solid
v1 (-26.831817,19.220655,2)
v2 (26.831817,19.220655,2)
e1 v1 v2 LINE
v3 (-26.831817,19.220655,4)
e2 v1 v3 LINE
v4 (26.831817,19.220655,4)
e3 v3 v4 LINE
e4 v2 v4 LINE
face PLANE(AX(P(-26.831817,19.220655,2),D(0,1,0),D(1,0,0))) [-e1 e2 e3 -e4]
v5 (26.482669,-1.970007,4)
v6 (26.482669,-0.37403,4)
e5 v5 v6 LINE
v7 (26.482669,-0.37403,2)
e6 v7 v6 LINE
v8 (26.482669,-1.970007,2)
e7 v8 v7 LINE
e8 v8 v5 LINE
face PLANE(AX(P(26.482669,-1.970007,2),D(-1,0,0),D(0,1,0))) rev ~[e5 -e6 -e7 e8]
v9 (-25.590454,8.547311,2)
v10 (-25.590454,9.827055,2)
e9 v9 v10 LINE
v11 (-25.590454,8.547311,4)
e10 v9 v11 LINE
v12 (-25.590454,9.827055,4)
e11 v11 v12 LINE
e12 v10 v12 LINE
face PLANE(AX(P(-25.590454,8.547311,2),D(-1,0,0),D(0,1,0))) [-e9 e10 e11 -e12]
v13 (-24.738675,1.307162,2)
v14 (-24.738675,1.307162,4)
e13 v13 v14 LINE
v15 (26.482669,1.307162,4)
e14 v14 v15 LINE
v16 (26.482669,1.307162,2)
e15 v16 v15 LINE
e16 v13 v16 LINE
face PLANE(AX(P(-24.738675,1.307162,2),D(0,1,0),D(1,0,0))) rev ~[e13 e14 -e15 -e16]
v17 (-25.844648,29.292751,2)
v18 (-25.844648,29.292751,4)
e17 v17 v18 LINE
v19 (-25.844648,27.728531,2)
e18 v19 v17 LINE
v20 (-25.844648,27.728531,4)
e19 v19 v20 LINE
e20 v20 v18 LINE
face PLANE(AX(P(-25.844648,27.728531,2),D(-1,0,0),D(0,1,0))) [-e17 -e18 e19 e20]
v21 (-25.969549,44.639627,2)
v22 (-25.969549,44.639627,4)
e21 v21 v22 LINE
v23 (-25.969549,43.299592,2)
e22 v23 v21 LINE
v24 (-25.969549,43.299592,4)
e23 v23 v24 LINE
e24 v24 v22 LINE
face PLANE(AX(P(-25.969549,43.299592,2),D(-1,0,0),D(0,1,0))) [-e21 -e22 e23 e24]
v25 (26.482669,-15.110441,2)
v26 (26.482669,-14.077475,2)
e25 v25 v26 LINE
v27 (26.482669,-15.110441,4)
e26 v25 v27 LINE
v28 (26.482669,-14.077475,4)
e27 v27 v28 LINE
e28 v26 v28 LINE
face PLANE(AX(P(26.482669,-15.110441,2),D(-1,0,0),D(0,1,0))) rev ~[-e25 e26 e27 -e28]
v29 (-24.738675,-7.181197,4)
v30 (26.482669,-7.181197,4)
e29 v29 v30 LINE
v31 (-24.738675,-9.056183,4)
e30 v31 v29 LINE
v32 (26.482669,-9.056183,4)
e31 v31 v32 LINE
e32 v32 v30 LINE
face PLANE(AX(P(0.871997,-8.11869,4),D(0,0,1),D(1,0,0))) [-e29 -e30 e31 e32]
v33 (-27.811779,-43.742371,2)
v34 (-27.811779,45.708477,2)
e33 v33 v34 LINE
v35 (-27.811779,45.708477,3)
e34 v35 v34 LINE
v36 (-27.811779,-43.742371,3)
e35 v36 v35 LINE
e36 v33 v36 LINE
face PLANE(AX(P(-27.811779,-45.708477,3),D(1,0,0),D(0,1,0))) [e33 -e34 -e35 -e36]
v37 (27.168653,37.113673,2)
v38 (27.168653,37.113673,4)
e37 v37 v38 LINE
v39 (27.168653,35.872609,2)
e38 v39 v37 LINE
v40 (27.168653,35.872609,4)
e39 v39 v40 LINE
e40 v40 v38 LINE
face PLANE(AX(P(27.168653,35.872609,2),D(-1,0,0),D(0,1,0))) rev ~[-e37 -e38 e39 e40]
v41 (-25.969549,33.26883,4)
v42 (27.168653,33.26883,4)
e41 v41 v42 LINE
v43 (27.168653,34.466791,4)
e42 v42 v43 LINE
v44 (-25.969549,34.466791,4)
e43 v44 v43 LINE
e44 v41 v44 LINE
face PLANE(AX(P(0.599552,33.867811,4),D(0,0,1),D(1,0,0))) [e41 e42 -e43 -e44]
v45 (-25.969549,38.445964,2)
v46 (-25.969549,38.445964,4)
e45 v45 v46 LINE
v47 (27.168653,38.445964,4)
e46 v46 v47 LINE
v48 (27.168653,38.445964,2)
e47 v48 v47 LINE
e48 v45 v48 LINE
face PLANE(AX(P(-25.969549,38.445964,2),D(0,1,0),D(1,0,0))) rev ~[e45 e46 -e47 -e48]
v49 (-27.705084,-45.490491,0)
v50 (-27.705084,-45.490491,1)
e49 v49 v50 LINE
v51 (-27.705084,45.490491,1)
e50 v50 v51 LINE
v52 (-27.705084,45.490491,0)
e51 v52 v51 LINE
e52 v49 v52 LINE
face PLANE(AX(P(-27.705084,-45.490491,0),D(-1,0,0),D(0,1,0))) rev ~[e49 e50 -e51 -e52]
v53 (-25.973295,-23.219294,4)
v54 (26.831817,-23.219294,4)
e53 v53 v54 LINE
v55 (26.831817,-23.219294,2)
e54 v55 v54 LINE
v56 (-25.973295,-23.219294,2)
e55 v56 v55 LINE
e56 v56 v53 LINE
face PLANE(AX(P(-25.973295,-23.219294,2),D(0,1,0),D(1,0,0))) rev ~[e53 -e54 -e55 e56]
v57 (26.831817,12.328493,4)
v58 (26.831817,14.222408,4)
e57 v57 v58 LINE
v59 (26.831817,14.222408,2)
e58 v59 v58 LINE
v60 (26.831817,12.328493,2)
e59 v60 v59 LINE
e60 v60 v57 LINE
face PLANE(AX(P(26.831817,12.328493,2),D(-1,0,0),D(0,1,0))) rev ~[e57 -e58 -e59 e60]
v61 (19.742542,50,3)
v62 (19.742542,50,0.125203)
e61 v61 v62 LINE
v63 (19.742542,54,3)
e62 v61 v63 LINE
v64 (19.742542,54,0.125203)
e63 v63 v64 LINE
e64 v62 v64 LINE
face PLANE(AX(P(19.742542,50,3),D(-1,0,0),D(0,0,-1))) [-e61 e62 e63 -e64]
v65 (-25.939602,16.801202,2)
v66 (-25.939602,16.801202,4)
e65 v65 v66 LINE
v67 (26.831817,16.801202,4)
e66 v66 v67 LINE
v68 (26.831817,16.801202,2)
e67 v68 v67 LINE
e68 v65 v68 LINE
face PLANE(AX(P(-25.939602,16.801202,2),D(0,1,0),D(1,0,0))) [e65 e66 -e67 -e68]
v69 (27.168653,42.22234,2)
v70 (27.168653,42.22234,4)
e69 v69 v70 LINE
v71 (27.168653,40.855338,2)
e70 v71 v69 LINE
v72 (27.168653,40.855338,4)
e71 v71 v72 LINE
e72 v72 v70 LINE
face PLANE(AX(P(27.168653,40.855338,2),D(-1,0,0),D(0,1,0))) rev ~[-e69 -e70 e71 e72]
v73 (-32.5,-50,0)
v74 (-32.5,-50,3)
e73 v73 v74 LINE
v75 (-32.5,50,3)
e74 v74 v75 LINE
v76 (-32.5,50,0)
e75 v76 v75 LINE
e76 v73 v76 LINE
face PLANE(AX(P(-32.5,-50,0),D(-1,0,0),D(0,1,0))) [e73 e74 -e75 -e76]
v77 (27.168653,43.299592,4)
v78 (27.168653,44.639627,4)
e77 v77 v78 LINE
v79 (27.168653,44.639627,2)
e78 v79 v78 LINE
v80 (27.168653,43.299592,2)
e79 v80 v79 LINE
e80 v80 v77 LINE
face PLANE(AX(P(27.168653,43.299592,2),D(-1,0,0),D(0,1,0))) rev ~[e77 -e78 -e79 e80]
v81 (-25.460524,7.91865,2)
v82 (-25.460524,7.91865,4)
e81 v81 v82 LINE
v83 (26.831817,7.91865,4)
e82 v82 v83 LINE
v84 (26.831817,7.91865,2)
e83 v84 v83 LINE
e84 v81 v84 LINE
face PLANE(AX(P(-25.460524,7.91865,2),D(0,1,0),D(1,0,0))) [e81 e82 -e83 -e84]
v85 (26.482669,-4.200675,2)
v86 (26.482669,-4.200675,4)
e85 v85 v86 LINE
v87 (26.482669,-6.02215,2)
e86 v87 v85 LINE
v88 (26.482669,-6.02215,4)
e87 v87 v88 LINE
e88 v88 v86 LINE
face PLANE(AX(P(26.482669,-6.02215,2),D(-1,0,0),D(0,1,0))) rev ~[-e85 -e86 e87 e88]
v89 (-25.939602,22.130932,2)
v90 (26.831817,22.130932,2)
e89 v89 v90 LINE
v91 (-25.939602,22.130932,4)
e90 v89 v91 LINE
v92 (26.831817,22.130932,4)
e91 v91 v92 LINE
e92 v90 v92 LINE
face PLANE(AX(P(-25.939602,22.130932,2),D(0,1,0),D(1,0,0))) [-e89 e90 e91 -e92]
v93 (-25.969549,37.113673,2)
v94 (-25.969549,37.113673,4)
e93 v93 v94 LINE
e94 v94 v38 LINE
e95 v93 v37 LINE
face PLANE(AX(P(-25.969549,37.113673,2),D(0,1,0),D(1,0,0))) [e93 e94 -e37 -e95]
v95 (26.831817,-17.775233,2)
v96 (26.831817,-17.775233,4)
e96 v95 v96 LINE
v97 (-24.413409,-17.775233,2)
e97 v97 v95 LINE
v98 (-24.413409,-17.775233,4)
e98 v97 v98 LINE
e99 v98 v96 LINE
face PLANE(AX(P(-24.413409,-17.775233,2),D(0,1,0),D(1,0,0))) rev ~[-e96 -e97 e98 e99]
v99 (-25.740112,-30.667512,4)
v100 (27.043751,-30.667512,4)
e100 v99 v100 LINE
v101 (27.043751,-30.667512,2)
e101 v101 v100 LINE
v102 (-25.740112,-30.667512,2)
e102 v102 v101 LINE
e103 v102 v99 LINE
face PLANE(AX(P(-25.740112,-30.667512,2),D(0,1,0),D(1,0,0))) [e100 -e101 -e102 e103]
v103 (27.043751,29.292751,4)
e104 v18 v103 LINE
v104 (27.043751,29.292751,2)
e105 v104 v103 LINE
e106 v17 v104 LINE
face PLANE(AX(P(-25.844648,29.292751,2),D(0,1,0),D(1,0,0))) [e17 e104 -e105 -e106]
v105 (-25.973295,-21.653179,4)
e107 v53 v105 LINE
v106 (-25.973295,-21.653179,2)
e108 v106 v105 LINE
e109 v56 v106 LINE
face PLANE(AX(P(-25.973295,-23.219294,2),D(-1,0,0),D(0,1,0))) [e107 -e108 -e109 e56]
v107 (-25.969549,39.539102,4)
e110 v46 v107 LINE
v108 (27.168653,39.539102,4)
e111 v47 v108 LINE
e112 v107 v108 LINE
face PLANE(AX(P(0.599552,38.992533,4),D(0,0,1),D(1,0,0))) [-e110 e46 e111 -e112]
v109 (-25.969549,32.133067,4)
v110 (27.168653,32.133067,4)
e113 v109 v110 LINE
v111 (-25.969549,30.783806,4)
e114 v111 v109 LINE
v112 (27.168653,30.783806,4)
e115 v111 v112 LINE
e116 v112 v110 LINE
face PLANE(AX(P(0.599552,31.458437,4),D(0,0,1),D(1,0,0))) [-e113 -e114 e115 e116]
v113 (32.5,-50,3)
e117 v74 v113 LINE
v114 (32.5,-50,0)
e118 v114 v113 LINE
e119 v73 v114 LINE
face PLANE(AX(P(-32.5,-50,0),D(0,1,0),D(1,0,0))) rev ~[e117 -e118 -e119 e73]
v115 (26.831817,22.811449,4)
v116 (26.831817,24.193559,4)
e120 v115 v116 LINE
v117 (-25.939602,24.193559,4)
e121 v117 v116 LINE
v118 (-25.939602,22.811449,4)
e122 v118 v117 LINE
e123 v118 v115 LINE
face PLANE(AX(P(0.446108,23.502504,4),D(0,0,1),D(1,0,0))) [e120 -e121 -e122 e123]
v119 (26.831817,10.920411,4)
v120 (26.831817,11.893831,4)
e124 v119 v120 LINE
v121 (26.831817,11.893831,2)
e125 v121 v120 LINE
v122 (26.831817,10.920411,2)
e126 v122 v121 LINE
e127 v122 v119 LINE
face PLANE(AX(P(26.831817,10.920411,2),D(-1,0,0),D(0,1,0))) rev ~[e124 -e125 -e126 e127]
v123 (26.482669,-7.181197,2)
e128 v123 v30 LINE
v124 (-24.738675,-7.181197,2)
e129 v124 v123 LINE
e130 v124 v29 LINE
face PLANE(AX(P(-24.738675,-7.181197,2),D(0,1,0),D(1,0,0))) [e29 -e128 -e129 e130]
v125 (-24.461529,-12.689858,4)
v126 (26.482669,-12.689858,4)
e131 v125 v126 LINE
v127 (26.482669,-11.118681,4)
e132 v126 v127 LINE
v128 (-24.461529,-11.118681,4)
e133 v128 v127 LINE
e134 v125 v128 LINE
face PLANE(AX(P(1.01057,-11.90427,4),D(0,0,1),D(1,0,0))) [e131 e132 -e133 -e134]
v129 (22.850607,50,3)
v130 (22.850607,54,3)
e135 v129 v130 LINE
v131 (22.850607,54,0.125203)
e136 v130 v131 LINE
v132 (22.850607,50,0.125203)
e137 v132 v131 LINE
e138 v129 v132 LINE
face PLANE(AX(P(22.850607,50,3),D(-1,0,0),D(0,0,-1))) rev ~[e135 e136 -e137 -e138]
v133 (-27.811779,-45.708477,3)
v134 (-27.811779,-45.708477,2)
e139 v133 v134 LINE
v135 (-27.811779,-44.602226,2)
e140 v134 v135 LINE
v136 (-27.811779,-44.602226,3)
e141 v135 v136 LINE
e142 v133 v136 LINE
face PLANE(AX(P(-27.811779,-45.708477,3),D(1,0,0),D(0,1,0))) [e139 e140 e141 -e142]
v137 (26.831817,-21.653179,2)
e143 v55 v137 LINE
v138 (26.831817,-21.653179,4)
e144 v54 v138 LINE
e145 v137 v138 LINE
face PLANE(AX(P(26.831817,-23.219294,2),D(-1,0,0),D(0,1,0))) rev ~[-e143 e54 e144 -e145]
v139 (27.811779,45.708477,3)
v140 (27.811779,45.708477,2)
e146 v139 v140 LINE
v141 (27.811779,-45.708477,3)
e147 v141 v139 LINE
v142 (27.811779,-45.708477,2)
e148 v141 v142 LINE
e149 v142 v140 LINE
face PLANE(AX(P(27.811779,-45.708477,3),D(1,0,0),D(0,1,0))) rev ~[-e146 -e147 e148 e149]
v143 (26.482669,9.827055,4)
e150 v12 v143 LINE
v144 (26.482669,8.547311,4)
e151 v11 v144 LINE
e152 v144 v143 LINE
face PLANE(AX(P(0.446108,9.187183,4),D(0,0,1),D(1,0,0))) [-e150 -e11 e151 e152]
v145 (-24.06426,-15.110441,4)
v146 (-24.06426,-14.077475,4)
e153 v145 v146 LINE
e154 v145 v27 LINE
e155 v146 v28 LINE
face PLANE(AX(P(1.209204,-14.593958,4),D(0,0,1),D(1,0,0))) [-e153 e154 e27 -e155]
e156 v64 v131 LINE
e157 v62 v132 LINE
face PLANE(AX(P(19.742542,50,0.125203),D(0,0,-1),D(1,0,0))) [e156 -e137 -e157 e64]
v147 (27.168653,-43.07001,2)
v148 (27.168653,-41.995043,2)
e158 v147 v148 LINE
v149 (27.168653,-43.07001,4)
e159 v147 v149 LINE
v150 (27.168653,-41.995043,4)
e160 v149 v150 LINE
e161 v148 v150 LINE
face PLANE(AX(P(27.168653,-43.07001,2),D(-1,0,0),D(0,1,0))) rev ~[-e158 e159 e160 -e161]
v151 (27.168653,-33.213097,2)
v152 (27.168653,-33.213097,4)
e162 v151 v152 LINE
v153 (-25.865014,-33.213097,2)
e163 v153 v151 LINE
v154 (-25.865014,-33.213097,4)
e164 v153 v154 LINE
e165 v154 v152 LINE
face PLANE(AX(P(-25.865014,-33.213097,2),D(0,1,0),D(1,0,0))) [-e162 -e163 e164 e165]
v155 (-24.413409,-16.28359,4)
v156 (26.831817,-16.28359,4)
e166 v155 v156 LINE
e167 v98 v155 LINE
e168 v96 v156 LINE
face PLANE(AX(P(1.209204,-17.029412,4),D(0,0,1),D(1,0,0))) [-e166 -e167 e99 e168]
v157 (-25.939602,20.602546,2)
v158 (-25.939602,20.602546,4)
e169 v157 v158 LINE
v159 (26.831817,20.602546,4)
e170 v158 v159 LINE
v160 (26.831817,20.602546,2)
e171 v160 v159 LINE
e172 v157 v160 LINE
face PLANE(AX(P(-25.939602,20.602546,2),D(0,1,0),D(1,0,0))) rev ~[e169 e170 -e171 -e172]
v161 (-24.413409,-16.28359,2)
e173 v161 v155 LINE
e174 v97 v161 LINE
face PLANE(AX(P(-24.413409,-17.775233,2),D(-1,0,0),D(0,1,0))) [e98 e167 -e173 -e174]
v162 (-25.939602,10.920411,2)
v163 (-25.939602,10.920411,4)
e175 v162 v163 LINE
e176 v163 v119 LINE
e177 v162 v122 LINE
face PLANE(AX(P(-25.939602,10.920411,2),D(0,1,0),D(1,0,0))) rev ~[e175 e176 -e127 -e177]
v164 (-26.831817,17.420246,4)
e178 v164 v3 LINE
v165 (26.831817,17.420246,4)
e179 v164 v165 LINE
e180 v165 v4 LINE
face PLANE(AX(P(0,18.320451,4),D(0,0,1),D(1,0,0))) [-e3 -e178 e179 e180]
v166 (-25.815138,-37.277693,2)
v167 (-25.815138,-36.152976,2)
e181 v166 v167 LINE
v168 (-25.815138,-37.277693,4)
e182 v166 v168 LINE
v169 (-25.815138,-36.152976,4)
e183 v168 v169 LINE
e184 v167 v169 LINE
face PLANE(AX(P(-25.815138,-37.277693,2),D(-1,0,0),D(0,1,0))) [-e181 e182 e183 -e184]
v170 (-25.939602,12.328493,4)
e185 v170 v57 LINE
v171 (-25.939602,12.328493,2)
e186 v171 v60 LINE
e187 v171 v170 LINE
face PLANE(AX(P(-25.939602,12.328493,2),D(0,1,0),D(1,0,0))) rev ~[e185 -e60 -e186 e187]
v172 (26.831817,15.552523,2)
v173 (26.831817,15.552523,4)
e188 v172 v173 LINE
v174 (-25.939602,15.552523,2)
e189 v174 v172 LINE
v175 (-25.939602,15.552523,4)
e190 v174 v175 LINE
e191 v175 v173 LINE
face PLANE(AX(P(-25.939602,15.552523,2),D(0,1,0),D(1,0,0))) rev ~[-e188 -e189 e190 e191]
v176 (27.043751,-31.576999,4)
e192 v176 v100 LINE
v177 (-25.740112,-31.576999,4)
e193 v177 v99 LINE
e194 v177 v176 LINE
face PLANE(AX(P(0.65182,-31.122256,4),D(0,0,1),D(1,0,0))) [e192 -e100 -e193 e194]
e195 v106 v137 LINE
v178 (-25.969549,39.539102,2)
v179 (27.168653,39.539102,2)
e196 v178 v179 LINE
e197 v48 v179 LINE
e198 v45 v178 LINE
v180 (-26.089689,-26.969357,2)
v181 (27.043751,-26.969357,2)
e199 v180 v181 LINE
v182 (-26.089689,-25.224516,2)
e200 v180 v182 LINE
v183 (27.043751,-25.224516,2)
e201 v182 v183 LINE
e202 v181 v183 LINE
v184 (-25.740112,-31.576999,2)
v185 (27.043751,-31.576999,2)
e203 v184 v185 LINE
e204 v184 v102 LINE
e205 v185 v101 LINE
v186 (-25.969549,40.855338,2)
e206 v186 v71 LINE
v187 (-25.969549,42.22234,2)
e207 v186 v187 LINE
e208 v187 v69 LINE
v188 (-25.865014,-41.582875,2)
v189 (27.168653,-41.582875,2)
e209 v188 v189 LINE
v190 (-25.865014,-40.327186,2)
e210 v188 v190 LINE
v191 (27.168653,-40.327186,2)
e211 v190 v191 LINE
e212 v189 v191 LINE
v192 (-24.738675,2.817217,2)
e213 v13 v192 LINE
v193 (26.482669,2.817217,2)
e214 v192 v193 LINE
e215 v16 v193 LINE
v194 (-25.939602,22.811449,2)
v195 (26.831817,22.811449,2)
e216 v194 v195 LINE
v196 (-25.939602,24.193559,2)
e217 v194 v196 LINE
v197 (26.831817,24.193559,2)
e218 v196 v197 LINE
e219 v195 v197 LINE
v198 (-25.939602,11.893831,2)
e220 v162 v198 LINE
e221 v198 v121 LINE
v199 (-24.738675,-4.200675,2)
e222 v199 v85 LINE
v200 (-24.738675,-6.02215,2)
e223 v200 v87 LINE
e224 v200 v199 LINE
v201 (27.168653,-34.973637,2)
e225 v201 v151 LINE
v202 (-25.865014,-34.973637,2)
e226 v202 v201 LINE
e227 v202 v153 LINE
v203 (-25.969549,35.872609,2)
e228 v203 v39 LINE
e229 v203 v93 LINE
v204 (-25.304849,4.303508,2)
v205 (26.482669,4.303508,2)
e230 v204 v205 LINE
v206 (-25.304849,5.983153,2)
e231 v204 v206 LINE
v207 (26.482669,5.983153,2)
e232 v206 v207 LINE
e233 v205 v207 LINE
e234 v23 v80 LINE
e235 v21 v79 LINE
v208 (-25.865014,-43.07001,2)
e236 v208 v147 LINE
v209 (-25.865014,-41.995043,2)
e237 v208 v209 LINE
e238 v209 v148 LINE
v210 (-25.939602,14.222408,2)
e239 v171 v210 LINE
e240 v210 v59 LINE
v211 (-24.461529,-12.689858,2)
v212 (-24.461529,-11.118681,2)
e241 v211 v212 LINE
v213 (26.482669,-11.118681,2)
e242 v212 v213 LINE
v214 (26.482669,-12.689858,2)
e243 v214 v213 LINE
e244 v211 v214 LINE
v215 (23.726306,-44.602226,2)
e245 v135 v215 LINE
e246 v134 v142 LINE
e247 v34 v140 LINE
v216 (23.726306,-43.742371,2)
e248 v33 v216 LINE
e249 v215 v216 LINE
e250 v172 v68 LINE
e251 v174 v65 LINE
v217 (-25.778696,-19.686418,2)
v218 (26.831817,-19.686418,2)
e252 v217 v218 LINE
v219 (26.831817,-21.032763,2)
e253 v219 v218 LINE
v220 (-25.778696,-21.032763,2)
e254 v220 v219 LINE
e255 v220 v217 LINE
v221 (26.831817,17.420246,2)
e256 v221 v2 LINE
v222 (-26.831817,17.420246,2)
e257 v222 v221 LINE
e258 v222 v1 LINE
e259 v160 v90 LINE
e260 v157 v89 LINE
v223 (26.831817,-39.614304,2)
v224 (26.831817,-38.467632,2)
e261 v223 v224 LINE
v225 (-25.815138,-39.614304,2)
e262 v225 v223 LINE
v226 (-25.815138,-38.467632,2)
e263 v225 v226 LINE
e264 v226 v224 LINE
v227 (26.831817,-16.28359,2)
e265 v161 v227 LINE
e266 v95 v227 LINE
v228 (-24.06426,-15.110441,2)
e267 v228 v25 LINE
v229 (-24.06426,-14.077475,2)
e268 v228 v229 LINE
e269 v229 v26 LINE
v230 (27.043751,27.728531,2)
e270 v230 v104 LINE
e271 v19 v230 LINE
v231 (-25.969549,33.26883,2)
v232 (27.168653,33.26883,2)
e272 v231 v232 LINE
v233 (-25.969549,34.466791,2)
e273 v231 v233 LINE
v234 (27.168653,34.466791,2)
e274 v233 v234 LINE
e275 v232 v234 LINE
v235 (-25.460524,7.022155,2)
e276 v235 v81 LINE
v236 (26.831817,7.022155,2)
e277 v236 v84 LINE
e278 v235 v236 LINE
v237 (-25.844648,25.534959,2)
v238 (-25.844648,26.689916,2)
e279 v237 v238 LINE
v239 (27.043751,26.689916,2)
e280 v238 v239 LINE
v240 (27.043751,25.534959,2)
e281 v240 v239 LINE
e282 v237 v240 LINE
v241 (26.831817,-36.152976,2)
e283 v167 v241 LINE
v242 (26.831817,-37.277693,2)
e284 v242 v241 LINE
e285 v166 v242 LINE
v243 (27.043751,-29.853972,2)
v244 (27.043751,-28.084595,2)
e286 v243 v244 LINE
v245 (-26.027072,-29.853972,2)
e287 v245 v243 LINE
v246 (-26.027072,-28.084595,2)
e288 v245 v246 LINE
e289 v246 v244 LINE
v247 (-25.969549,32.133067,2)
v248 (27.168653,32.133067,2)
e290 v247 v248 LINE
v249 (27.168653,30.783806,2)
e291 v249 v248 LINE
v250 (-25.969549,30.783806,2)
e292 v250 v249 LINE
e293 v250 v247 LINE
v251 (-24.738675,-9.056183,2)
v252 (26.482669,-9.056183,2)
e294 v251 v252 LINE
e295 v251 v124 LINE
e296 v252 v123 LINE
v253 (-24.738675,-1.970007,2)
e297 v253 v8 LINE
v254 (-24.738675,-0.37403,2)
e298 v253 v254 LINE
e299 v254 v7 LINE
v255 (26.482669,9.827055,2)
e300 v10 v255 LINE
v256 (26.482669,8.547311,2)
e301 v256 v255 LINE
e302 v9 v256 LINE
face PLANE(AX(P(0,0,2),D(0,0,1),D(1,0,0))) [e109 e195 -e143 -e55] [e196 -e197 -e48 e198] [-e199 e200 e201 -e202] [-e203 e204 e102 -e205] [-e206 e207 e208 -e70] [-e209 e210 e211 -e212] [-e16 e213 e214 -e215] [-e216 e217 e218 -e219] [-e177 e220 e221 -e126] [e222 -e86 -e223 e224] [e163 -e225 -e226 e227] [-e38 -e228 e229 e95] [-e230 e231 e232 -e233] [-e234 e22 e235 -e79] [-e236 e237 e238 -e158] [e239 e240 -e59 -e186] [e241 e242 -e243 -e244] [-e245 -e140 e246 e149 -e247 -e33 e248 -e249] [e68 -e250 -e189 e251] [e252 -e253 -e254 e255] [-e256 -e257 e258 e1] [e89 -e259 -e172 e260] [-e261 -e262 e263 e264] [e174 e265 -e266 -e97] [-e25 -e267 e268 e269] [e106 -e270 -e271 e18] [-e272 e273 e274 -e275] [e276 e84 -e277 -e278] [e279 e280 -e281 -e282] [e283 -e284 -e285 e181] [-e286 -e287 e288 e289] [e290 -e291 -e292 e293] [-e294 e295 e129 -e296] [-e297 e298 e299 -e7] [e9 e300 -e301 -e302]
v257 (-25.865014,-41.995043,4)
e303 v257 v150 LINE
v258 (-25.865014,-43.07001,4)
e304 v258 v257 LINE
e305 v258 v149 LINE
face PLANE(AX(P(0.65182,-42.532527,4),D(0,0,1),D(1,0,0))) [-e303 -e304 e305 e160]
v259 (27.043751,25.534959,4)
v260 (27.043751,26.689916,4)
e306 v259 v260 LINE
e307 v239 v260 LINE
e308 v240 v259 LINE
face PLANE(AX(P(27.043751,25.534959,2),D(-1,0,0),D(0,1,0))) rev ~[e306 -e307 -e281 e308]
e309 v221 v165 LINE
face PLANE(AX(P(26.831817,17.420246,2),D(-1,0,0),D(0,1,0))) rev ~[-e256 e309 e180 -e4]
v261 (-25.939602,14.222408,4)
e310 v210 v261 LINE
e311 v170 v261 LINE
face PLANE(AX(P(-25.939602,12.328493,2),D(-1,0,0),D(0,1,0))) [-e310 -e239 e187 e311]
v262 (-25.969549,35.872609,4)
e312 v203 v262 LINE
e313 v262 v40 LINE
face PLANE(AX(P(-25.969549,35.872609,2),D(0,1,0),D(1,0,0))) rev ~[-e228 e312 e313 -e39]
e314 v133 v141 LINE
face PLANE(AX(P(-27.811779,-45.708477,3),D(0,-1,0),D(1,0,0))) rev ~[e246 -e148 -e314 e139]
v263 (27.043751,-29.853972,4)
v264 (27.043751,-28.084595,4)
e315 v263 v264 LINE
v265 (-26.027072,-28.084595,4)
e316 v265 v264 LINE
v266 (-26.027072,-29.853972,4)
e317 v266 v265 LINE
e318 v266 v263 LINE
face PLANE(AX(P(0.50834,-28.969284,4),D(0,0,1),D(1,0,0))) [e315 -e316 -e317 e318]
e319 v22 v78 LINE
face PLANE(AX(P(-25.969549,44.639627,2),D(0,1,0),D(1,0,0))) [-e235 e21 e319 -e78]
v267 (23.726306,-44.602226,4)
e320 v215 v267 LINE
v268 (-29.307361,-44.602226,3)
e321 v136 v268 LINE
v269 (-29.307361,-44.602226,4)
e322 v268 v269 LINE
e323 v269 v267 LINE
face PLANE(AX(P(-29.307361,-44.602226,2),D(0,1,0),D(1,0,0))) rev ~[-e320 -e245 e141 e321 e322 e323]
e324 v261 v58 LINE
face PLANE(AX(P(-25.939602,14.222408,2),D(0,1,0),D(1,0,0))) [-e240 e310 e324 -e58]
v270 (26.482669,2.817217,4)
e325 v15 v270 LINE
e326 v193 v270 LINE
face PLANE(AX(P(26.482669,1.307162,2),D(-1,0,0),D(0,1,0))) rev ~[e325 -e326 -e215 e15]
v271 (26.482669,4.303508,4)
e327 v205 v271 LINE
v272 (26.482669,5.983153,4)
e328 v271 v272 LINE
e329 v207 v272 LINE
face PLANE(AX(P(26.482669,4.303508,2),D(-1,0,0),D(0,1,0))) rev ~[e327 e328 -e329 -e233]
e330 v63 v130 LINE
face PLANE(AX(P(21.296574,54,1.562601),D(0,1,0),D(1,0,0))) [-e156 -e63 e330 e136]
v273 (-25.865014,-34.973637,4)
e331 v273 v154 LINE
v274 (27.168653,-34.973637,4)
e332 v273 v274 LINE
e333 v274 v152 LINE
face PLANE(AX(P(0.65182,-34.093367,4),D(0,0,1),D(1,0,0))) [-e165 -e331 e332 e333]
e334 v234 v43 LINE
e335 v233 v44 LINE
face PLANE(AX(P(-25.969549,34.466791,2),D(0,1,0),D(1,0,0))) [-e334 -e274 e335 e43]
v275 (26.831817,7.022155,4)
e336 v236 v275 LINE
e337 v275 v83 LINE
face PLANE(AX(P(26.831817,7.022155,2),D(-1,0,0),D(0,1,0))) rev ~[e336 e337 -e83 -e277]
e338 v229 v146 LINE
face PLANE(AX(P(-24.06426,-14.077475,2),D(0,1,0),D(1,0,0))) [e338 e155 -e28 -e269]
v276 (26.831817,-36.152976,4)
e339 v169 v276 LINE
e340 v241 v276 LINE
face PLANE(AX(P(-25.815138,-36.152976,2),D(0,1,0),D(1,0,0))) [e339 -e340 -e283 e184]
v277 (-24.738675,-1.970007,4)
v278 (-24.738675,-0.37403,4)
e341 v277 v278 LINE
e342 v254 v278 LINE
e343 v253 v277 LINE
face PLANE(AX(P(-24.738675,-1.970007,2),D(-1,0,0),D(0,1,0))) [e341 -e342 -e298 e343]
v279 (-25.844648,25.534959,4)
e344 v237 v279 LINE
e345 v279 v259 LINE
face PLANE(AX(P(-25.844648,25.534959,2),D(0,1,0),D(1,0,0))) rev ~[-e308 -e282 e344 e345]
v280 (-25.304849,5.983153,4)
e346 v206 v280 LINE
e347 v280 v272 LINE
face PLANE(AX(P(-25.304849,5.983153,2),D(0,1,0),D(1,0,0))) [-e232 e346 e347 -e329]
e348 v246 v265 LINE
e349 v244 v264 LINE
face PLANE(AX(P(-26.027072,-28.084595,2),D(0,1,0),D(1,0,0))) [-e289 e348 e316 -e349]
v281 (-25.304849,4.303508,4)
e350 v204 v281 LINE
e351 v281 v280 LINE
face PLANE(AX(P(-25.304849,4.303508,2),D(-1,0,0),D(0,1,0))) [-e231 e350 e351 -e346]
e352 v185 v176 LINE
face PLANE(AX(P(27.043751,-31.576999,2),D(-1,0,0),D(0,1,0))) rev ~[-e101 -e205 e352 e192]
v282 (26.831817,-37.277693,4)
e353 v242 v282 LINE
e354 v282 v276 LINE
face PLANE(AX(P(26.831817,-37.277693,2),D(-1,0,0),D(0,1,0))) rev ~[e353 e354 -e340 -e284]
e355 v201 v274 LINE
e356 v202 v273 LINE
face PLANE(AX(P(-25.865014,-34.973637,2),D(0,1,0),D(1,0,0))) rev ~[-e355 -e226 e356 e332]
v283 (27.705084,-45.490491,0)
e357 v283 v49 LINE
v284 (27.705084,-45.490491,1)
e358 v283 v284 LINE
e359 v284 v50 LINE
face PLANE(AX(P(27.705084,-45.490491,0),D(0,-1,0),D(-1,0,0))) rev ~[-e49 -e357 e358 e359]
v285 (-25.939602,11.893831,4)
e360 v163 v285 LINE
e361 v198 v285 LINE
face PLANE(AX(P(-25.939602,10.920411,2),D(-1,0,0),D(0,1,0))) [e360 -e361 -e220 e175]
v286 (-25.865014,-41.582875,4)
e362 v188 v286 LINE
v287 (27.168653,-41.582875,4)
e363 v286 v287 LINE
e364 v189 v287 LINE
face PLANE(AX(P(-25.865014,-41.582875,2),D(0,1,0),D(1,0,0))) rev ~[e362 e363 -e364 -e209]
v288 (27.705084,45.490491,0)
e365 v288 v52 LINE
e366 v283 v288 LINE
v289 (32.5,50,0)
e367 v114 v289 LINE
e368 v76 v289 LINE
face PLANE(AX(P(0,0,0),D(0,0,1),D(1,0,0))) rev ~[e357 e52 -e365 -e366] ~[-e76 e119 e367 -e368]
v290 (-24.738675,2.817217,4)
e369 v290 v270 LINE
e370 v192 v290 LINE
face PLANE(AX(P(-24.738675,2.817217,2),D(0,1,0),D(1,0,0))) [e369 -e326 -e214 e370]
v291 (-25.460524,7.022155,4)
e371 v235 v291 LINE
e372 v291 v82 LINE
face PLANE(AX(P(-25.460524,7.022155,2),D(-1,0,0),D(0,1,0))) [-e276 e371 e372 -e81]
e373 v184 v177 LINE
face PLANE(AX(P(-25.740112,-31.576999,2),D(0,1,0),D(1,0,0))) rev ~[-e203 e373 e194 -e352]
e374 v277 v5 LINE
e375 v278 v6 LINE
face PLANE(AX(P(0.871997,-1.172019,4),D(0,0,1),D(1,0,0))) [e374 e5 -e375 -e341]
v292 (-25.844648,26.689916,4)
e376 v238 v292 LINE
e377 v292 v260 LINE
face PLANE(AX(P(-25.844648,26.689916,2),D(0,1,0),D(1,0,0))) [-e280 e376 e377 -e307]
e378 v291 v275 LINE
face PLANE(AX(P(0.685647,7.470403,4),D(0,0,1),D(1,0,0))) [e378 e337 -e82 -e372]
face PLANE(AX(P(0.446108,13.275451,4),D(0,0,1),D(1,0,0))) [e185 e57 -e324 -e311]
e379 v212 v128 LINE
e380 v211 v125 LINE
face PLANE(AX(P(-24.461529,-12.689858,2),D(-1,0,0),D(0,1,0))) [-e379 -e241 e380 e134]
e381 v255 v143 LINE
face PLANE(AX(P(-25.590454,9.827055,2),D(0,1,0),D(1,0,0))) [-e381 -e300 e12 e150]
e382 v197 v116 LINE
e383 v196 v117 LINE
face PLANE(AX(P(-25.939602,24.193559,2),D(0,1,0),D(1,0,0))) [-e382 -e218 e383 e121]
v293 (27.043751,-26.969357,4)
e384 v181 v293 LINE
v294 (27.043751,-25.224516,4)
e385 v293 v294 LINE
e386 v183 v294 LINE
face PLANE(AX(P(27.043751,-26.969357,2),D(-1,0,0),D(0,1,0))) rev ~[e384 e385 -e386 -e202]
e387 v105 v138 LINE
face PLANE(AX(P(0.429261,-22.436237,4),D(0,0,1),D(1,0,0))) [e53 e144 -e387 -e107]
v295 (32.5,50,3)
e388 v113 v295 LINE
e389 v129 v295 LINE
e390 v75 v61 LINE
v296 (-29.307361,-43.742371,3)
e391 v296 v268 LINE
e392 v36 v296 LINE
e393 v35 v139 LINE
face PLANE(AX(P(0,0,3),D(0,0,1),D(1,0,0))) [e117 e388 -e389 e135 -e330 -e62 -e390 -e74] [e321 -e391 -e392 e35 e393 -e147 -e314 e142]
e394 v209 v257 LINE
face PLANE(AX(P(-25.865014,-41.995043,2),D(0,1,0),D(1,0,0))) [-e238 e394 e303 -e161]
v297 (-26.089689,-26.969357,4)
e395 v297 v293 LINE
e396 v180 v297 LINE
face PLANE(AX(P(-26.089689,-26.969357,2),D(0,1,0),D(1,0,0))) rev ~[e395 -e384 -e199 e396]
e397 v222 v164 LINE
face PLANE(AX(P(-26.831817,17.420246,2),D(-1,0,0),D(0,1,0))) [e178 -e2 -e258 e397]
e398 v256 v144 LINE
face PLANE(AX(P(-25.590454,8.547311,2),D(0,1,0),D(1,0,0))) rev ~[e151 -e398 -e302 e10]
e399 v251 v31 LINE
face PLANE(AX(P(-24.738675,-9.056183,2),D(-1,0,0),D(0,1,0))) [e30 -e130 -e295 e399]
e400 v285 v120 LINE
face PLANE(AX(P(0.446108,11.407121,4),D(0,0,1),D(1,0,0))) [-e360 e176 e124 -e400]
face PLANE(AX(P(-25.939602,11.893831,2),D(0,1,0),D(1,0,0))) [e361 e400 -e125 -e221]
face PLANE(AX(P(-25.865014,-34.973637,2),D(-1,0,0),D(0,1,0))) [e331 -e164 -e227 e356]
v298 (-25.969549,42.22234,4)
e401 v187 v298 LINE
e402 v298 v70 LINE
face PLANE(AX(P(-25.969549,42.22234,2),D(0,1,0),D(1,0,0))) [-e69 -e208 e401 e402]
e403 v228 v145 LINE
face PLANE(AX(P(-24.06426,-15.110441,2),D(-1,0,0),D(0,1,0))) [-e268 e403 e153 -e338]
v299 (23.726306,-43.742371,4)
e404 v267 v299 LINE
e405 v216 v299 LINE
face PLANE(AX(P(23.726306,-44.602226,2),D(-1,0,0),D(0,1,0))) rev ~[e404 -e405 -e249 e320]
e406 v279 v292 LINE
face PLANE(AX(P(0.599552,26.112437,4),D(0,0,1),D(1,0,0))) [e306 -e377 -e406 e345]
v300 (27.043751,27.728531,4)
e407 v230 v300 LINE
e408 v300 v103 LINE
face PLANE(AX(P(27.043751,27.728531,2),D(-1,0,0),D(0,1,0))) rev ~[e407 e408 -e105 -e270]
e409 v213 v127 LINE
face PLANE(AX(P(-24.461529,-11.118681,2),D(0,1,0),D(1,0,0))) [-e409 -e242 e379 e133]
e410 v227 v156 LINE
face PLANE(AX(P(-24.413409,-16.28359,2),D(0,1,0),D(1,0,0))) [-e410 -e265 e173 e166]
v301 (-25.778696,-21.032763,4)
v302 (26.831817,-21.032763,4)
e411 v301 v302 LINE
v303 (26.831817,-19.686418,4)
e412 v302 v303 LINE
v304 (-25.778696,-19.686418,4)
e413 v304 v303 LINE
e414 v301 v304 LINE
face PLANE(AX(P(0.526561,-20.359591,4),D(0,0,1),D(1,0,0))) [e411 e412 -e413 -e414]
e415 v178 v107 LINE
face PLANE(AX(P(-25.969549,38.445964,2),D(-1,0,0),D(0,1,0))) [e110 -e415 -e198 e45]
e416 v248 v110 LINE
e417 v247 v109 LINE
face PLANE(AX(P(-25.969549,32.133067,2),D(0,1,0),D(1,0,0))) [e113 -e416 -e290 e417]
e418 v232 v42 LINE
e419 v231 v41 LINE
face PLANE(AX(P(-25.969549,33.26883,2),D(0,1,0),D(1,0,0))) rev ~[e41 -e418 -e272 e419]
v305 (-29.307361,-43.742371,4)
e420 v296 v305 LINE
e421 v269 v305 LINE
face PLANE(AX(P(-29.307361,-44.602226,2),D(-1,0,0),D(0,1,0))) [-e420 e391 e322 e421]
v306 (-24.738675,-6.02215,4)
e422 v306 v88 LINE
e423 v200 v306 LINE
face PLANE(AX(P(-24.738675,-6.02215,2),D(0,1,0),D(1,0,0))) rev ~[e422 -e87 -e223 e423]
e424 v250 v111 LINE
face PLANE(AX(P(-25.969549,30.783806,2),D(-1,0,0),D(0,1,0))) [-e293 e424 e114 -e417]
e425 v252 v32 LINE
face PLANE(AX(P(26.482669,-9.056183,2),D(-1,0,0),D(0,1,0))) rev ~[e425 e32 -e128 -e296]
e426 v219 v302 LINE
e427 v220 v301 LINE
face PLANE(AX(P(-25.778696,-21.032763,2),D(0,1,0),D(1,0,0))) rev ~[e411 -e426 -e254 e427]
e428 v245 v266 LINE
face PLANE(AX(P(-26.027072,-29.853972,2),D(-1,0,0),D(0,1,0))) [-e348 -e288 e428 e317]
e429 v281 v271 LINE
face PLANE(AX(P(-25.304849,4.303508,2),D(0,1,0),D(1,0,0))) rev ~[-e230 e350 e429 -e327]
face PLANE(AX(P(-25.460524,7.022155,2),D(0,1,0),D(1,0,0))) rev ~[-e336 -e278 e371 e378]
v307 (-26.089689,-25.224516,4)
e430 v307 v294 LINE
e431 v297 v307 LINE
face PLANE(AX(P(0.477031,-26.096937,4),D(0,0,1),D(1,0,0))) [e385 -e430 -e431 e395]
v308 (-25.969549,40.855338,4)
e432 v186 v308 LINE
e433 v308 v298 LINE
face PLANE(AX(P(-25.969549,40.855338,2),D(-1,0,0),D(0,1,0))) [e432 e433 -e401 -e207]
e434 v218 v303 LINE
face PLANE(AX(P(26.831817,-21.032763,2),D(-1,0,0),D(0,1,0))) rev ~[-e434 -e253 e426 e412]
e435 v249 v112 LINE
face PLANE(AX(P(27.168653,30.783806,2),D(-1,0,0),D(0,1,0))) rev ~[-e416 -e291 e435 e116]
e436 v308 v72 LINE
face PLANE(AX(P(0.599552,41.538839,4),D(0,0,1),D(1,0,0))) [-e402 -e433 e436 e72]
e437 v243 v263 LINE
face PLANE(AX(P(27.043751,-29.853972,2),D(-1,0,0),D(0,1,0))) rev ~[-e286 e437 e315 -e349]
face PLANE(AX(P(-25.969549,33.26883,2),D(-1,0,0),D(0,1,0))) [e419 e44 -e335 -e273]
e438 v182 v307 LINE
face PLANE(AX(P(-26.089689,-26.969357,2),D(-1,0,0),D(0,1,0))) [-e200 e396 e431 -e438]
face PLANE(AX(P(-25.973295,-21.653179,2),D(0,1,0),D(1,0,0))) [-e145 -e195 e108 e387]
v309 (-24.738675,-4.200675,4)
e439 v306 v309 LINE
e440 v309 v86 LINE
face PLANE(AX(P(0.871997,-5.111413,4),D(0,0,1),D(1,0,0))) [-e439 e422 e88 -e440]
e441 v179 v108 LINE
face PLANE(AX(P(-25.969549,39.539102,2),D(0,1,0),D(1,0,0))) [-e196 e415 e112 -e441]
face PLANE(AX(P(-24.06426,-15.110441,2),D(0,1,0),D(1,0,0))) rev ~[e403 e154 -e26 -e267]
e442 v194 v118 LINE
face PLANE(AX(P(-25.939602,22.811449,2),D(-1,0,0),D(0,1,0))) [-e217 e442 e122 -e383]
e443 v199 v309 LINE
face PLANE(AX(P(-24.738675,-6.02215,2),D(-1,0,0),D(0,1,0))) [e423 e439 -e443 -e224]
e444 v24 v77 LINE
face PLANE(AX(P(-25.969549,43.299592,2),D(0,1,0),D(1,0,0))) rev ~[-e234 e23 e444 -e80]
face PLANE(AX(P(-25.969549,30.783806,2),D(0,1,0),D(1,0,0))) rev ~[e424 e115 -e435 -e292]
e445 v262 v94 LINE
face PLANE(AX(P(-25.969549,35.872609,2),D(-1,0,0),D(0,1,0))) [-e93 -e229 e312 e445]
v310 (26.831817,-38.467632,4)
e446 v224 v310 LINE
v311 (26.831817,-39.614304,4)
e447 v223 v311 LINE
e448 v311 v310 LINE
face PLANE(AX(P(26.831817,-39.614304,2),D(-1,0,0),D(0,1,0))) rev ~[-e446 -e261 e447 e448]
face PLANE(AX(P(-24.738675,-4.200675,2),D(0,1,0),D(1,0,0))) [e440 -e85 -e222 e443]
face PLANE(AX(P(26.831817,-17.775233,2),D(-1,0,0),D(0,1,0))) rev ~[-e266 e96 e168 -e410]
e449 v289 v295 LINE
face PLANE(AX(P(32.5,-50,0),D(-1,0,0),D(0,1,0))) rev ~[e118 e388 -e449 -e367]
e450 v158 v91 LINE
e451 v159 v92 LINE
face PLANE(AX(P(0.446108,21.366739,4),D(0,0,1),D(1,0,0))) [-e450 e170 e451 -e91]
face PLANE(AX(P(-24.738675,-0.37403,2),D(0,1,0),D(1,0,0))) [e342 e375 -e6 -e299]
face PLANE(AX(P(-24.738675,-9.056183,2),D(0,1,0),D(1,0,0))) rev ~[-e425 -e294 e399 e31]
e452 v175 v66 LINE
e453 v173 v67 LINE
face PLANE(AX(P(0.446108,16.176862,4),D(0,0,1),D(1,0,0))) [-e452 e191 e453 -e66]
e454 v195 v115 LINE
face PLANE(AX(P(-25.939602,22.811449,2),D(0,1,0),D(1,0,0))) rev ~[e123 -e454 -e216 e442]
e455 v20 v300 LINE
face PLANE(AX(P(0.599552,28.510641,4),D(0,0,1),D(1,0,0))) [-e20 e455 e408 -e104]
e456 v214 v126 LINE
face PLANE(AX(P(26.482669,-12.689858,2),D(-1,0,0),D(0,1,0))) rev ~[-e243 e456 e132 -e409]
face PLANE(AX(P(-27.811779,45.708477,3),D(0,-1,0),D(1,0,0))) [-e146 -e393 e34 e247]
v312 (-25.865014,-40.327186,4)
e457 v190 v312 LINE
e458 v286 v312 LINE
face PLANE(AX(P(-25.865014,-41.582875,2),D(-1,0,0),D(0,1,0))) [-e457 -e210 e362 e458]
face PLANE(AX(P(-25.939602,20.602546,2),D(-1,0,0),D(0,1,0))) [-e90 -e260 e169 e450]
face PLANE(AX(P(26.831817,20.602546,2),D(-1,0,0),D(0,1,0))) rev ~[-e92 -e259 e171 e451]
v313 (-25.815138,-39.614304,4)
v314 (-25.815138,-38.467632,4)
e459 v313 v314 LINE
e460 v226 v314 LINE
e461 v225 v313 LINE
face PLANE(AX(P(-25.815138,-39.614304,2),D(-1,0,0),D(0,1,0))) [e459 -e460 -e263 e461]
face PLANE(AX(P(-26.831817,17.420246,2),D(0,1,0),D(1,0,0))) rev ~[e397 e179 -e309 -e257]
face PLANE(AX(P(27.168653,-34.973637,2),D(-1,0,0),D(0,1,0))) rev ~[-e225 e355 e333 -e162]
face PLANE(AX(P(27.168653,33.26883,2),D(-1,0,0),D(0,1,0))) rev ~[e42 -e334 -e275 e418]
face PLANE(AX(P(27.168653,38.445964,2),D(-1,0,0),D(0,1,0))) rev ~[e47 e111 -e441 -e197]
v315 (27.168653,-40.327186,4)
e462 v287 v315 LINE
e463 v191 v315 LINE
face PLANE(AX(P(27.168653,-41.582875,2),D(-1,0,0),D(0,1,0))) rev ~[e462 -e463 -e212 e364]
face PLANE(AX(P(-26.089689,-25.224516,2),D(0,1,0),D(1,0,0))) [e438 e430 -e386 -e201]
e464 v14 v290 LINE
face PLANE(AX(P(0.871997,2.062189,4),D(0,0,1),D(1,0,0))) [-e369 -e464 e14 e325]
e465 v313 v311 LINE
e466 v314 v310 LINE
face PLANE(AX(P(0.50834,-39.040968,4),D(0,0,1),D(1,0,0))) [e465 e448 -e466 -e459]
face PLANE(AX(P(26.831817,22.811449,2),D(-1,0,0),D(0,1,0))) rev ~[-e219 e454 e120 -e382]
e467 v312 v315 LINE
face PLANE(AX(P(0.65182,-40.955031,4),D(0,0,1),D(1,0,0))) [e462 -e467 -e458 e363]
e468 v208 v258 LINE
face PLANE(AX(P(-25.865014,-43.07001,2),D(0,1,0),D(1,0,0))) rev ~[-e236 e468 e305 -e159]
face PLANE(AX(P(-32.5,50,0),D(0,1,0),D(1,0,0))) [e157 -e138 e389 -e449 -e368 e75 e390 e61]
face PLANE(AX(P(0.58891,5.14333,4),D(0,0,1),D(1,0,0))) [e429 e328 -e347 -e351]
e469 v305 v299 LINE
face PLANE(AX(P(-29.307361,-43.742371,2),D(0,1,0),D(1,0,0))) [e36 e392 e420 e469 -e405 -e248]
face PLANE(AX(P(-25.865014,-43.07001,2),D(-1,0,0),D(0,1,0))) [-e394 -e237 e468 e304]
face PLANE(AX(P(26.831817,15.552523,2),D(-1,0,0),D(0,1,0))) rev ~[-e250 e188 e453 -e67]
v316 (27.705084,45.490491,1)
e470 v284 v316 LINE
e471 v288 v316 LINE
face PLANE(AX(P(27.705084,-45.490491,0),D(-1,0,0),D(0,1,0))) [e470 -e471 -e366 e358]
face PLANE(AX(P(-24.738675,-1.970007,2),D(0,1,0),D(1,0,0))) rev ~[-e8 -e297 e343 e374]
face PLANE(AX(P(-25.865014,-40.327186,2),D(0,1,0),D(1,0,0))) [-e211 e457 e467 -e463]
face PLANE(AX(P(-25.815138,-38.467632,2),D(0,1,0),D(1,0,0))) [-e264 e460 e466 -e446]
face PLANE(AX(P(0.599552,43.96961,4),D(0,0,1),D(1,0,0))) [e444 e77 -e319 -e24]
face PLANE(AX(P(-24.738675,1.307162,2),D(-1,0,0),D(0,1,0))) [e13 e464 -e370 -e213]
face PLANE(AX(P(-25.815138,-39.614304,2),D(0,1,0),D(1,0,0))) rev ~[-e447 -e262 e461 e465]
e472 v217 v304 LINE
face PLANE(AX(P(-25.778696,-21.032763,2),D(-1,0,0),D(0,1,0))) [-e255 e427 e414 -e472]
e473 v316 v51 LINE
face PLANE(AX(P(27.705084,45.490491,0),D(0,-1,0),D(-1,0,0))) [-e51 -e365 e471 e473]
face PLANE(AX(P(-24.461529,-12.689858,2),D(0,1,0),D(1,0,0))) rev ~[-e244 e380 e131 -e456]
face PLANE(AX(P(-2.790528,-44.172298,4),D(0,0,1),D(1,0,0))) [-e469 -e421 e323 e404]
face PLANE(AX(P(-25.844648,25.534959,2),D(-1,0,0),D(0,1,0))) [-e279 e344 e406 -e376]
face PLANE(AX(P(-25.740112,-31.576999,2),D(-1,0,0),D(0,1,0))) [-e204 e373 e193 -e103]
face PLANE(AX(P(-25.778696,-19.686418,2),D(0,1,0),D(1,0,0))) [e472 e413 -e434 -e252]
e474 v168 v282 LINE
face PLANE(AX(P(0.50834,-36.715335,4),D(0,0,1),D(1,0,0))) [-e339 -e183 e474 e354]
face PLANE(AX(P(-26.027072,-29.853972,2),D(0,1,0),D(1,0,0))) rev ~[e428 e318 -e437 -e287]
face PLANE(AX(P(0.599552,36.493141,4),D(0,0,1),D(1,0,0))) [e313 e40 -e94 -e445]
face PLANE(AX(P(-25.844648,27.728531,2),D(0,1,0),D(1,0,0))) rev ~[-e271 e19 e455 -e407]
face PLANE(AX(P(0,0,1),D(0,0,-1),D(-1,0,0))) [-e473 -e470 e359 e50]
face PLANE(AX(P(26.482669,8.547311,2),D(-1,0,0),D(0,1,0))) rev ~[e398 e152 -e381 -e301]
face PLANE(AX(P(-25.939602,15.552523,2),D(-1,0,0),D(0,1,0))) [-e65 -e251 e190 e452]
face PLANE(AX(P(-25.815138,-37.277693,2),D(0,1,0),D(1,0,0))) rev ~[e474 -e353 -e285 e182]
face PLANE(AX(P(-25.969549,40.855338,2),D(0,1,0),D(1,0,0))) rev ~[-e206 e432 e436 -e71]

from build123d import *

# Parameters (mm, degrees)
SKETCH1_W           = 65
SKETCH1_H           = 100
BOSS_EXTRUDE1_DEPTH = 3
SKETCH2_W           = 55.410167814
SKETCH2_H           = 90.98098151
CUT_EXTRUDE1_DEPTH  = 1
SKETCH3_W           = 55.623558632
SKETCH3_H           = 91.416954534
CUT_EXTRUDE2_DEPTH  = 1
SKETCH6_W           = 3.108064818
SKETCH6_H           = 2.87479715
BOSS_EXTRUDE3_DEPTH = 4
SKETCH7_W           = 53.138202779
SKETCH7_H           = 1.34003587
SKETCH7_H_2         = 1.367002675
SKETCH7_H_3         = 1.093138183
SKETCH7_H_4         = 1.2410645
SKETCH7_H_5         = 1.197960463
SKETCH7_H_6         = 1.349260721
SKETCH7_W_2         = 52.888399092
SKETCH7_H_7         = 1.564219447
SKETCH7_H_8         = 1.154957354
SKETCH7_W_3         = 52.771419101
SKETCH7_H_9         = 1.382110168
SKETCH7_H_10        = 1.528385576
SKETCH7_W_4         = 53.663634192
SKETCH7_H_11        = 1.80040931
SKETCH7_H_12        = 1.2486786
SKETCH7_H_13        = 1.893914185
SKETCH7_H_14        = 0.973420041
SKETCH7_W_5         = 52.073122621
SKETCH7_H_15        = 1.279744006
SKETCH7_W_6         = 52.292340795
SKETCH7_H_16        = 0.896495241
SKETCH7_W_7         = 51.78751772
SKETCH7_H_17        = 1.679645233
SKETCH7_W_8         = 51.221344093
SKETCH7_H_18        = 1.510054375
SKETCH7_H_19        = 1.595977351
SKETCH7_H_20        = 1.821474854
SKETCH7_H_21        = 1.874986332
SKETCH7_W_9         = 50.944197518
SKETCH7_H_22        = 1.571177337
SKETCH7_W_10        = 50.546929275
SKETCH7_H_23        = 1.032965843
SKETCH7_W_11        = 51.245225755
SKETCH7_H_24        = 1.49164225
SKETCH7_W_12        = 52.610512912
SKETCH7_H_25        = 1.346344249
SKETCH7_W_13        = 52.805112466
SKETCH7_H_26        = 1.56611489
SKETCH7_W_14        = 53.13344098
SKETCH7_H_27        = 1.744841701
SKETCH7_W_15        = 53.070823892
SKETCH7_H_28        = 1.769376556
SKETCH7_W_16        = 52.783863166
SKETCH7_H_29        = 0.909486208
SKETCH7_W_17        = 53.033666853
SKETCH7_H_30        = 1.760540006
SKETCH7_W_18        = 52.646955084
SKETCH7_H_31        = 1.124717702
SKETCH7_H_32        = 1.14667208
SKETCH7_H_33        = 1.255688916
SKETCH7_H_34        = 1.074967726
SKETCH7_H_35        = 0.859854663
BOSS_EXTRUDE4_DEPTH = 2


with BuildPart() as part:
    # Sketch1 → Boss-Extrude1 (new body)
    with BuildSketch(Plane.XY):
        Rectangle(SKETCH1_W, SKETCH1_H)
    extrude(amount=BOSS_EXTRUDE1_DEPTH)

    # Sketch2 → Cut-Extrude1 (cut)
    with BuildSketch(Plane(origin=(0, 0, 0), x_dir=(-1, 0, 0), z_dir=(0, 0, -1))):
        Rectangle(SKETCH2_W, SKETCH2_H)
    extrude(amount=-CUT_EXTRUDE1_DEPTH, mode=Mode.SUBTRACT)

    # Sketch3 → Cut-Extrude2 (cut)
    with BuildSketch(Plane.XY.offset(3)):
        Rectangle(SKETCH3_W, SKETCH3_H)
    extrude(amount=-CUT_EXTRUDE2_DEPTH, mode=Mode.SUBTRACT)

    # Sketch6 → Boss-Extrude3 (add)
    with BuildSketch(Plane(origin=(0, 50, 0), x_dir=(1, 0, 0), z_dir=(0, 1, 0))):
        with Locations((21.296574144, -1.562601425)):
            Rectangle(SKETCH6_W, SKETCH6_H)
    extrude(amount=BOSS_EXTRUDE3_DEPTH)

    # Sketch7 → Boss-Extrude4 (add)
    with BuildSketch(Plane.XY.offset(2)):
        with Locations((0.599551955, 43.969609562)):
            Rectangle(SKETCH7_W, SKETCH7_H)
        with Locations((0.599551955, 41.538839141)):
            Rectangle(SKETCH7_W, SKETCH7_H_2)
        with Locations((0.599551955, 38.992532951)):
            Rectangle(SKETCH7_W, SKETCH7_H_3)
        with Locations((0.599551955, 36.493140866)):
            Rectangle(SKETCH7_W, SKETCH7_H_4)
        with Locations((0.599551955, 33.867810607)):
            Rectangle(SKETCH7_W, SKETCH7_H_5)
        with Locations((0.599551955, 31.458436664)):
            Rectangle(SKETCH7_W, SKETCH7_H_6)
        with Locations((0.599551954, 28.510640838)):
            Rectangle(SKETCH7_W_2, SKETCH7_H_7)
        with Locations((0.599551954, 26.112437241)):
            Rectangle(SKETCH7_W_2, SKETCH7_H_8)
        with Locations((0.446107546, 23.502504221)):
            Rectangle(SKETCH7_W_3, SKETCH7_H_9)
        with Locations((0.446107546, 21.366739211)):
            Rectangle(SKETCH7_W_3, SKETCH7_H_10)
        with Locations((0, 18.320450523)):
            Rectangle(SKETCH7_W_4, SKETCH7_H_11)
        with Locations((0.446107546, 16.176862315)):
            Rectangle(SKETCH7_W_3, SKETCH7_H_12)
        with Locations((0.446107546, 13.275450546)):
            Rectangle(SKETCH7_W_3, SKETCH7_H_13)
        with Locations((0.446107546, 11.407120898)):
            Rectangle(SKETCH7_W_3, SKETCH7_H_14)
        with Locations((0.446107545, 9.187182904)):
            Rectangle(SKETCH7_W_5, SKETCH7_H_15)
        with Locations((0.685646698, 7.470402799)):
            Rectangle(SKETCH7_W_6, SKETCH7_H_16)
        with Locations((0.588909996, 5.14333033)):
            Rectangle(SKETCH7_W_7, SKETCH7_H_17)
        with Locations((0.871996809, 2.062189427)):
            Rectangle(SKETCH7_W_8, SKETCH7_H_18)
        with Locations((0.871996809, -1.172018535)):
            Rectangle(SKETCH7_W_8, SKETCH7_H_19)
        with Locations((0.871996809, -5.111412921)):
            Rectangle(SKETCH7_W_8, SKETCH7_H_20)
        with Locations((0.871996809, -8.118690186)):
            Rectangle(SKETCH7_W_8, SKETCH7_H_21)
        with Locations((1.010570097, -11.904269807)):
            Rectangle(SKETCH7_W_9, SKETCH7_H_22)
        with Locations((1.209204219, -14.593957629)):
            Rectangle(SKETCH7_W_10, SKETCH7_H_23)
        with Locations((1.209204219, -17.029411585)):
            Rectangle(SKETCH7_W_11, SKETCH7_H_24)
        with Locations((0.52656064, -20.359590561)):
            Rectangle(SKETCH7_W_12, SKETCH7_H_25)
        with Locations((0.429260863, -22.436236668)):
            Rectangle(SKETCH7_W_13, SKETCH7_H_26)
        with Locations((0.47703101, -26.096936567)):
            Rectangle(SKETCH7_W_14, SKETCH7_H_27)
        with Locations((0.508339554, -28.969283574)):
            Rectangle(SKETCH7_W_15, SKETCH7_H_28)
        with Locations((0.651819917, -31.122255567)):
            Rectangle(SKETCH7_W_16, SKETCH7_H_29)
        with Locations((0.651819918, -34.0933672)):
            Rectangle(SKETCH7_W_17, SKETCH7_H_30)
        with Locations((0.508339554, -36.71533457)):
            Rectangle(SKETCH7_W_18, SKETCH7_H_31)
        with Locations((0.508339554, -39.040967639)):
            Rectangle(SKETCH7_W_18, SKETCH7_H_32)
        with Locations((0.651819918, -40.955030825)):
            Rectangle(SKETCH7_W_17, SKETCH7_H_33)
        with Locations((0.651819918, -42.532526617)):
            Rectangle(SKETCH7_W_17, SKETCH7_H_34)
        with Locations((-2.790527687, -44.172298267)):
            Rectangle(SKETCH7_W_17, SKETCH7_H_35)
    extrude(amount=BOSS_EXTRUDE4_DEPTH)


solid = part.part
